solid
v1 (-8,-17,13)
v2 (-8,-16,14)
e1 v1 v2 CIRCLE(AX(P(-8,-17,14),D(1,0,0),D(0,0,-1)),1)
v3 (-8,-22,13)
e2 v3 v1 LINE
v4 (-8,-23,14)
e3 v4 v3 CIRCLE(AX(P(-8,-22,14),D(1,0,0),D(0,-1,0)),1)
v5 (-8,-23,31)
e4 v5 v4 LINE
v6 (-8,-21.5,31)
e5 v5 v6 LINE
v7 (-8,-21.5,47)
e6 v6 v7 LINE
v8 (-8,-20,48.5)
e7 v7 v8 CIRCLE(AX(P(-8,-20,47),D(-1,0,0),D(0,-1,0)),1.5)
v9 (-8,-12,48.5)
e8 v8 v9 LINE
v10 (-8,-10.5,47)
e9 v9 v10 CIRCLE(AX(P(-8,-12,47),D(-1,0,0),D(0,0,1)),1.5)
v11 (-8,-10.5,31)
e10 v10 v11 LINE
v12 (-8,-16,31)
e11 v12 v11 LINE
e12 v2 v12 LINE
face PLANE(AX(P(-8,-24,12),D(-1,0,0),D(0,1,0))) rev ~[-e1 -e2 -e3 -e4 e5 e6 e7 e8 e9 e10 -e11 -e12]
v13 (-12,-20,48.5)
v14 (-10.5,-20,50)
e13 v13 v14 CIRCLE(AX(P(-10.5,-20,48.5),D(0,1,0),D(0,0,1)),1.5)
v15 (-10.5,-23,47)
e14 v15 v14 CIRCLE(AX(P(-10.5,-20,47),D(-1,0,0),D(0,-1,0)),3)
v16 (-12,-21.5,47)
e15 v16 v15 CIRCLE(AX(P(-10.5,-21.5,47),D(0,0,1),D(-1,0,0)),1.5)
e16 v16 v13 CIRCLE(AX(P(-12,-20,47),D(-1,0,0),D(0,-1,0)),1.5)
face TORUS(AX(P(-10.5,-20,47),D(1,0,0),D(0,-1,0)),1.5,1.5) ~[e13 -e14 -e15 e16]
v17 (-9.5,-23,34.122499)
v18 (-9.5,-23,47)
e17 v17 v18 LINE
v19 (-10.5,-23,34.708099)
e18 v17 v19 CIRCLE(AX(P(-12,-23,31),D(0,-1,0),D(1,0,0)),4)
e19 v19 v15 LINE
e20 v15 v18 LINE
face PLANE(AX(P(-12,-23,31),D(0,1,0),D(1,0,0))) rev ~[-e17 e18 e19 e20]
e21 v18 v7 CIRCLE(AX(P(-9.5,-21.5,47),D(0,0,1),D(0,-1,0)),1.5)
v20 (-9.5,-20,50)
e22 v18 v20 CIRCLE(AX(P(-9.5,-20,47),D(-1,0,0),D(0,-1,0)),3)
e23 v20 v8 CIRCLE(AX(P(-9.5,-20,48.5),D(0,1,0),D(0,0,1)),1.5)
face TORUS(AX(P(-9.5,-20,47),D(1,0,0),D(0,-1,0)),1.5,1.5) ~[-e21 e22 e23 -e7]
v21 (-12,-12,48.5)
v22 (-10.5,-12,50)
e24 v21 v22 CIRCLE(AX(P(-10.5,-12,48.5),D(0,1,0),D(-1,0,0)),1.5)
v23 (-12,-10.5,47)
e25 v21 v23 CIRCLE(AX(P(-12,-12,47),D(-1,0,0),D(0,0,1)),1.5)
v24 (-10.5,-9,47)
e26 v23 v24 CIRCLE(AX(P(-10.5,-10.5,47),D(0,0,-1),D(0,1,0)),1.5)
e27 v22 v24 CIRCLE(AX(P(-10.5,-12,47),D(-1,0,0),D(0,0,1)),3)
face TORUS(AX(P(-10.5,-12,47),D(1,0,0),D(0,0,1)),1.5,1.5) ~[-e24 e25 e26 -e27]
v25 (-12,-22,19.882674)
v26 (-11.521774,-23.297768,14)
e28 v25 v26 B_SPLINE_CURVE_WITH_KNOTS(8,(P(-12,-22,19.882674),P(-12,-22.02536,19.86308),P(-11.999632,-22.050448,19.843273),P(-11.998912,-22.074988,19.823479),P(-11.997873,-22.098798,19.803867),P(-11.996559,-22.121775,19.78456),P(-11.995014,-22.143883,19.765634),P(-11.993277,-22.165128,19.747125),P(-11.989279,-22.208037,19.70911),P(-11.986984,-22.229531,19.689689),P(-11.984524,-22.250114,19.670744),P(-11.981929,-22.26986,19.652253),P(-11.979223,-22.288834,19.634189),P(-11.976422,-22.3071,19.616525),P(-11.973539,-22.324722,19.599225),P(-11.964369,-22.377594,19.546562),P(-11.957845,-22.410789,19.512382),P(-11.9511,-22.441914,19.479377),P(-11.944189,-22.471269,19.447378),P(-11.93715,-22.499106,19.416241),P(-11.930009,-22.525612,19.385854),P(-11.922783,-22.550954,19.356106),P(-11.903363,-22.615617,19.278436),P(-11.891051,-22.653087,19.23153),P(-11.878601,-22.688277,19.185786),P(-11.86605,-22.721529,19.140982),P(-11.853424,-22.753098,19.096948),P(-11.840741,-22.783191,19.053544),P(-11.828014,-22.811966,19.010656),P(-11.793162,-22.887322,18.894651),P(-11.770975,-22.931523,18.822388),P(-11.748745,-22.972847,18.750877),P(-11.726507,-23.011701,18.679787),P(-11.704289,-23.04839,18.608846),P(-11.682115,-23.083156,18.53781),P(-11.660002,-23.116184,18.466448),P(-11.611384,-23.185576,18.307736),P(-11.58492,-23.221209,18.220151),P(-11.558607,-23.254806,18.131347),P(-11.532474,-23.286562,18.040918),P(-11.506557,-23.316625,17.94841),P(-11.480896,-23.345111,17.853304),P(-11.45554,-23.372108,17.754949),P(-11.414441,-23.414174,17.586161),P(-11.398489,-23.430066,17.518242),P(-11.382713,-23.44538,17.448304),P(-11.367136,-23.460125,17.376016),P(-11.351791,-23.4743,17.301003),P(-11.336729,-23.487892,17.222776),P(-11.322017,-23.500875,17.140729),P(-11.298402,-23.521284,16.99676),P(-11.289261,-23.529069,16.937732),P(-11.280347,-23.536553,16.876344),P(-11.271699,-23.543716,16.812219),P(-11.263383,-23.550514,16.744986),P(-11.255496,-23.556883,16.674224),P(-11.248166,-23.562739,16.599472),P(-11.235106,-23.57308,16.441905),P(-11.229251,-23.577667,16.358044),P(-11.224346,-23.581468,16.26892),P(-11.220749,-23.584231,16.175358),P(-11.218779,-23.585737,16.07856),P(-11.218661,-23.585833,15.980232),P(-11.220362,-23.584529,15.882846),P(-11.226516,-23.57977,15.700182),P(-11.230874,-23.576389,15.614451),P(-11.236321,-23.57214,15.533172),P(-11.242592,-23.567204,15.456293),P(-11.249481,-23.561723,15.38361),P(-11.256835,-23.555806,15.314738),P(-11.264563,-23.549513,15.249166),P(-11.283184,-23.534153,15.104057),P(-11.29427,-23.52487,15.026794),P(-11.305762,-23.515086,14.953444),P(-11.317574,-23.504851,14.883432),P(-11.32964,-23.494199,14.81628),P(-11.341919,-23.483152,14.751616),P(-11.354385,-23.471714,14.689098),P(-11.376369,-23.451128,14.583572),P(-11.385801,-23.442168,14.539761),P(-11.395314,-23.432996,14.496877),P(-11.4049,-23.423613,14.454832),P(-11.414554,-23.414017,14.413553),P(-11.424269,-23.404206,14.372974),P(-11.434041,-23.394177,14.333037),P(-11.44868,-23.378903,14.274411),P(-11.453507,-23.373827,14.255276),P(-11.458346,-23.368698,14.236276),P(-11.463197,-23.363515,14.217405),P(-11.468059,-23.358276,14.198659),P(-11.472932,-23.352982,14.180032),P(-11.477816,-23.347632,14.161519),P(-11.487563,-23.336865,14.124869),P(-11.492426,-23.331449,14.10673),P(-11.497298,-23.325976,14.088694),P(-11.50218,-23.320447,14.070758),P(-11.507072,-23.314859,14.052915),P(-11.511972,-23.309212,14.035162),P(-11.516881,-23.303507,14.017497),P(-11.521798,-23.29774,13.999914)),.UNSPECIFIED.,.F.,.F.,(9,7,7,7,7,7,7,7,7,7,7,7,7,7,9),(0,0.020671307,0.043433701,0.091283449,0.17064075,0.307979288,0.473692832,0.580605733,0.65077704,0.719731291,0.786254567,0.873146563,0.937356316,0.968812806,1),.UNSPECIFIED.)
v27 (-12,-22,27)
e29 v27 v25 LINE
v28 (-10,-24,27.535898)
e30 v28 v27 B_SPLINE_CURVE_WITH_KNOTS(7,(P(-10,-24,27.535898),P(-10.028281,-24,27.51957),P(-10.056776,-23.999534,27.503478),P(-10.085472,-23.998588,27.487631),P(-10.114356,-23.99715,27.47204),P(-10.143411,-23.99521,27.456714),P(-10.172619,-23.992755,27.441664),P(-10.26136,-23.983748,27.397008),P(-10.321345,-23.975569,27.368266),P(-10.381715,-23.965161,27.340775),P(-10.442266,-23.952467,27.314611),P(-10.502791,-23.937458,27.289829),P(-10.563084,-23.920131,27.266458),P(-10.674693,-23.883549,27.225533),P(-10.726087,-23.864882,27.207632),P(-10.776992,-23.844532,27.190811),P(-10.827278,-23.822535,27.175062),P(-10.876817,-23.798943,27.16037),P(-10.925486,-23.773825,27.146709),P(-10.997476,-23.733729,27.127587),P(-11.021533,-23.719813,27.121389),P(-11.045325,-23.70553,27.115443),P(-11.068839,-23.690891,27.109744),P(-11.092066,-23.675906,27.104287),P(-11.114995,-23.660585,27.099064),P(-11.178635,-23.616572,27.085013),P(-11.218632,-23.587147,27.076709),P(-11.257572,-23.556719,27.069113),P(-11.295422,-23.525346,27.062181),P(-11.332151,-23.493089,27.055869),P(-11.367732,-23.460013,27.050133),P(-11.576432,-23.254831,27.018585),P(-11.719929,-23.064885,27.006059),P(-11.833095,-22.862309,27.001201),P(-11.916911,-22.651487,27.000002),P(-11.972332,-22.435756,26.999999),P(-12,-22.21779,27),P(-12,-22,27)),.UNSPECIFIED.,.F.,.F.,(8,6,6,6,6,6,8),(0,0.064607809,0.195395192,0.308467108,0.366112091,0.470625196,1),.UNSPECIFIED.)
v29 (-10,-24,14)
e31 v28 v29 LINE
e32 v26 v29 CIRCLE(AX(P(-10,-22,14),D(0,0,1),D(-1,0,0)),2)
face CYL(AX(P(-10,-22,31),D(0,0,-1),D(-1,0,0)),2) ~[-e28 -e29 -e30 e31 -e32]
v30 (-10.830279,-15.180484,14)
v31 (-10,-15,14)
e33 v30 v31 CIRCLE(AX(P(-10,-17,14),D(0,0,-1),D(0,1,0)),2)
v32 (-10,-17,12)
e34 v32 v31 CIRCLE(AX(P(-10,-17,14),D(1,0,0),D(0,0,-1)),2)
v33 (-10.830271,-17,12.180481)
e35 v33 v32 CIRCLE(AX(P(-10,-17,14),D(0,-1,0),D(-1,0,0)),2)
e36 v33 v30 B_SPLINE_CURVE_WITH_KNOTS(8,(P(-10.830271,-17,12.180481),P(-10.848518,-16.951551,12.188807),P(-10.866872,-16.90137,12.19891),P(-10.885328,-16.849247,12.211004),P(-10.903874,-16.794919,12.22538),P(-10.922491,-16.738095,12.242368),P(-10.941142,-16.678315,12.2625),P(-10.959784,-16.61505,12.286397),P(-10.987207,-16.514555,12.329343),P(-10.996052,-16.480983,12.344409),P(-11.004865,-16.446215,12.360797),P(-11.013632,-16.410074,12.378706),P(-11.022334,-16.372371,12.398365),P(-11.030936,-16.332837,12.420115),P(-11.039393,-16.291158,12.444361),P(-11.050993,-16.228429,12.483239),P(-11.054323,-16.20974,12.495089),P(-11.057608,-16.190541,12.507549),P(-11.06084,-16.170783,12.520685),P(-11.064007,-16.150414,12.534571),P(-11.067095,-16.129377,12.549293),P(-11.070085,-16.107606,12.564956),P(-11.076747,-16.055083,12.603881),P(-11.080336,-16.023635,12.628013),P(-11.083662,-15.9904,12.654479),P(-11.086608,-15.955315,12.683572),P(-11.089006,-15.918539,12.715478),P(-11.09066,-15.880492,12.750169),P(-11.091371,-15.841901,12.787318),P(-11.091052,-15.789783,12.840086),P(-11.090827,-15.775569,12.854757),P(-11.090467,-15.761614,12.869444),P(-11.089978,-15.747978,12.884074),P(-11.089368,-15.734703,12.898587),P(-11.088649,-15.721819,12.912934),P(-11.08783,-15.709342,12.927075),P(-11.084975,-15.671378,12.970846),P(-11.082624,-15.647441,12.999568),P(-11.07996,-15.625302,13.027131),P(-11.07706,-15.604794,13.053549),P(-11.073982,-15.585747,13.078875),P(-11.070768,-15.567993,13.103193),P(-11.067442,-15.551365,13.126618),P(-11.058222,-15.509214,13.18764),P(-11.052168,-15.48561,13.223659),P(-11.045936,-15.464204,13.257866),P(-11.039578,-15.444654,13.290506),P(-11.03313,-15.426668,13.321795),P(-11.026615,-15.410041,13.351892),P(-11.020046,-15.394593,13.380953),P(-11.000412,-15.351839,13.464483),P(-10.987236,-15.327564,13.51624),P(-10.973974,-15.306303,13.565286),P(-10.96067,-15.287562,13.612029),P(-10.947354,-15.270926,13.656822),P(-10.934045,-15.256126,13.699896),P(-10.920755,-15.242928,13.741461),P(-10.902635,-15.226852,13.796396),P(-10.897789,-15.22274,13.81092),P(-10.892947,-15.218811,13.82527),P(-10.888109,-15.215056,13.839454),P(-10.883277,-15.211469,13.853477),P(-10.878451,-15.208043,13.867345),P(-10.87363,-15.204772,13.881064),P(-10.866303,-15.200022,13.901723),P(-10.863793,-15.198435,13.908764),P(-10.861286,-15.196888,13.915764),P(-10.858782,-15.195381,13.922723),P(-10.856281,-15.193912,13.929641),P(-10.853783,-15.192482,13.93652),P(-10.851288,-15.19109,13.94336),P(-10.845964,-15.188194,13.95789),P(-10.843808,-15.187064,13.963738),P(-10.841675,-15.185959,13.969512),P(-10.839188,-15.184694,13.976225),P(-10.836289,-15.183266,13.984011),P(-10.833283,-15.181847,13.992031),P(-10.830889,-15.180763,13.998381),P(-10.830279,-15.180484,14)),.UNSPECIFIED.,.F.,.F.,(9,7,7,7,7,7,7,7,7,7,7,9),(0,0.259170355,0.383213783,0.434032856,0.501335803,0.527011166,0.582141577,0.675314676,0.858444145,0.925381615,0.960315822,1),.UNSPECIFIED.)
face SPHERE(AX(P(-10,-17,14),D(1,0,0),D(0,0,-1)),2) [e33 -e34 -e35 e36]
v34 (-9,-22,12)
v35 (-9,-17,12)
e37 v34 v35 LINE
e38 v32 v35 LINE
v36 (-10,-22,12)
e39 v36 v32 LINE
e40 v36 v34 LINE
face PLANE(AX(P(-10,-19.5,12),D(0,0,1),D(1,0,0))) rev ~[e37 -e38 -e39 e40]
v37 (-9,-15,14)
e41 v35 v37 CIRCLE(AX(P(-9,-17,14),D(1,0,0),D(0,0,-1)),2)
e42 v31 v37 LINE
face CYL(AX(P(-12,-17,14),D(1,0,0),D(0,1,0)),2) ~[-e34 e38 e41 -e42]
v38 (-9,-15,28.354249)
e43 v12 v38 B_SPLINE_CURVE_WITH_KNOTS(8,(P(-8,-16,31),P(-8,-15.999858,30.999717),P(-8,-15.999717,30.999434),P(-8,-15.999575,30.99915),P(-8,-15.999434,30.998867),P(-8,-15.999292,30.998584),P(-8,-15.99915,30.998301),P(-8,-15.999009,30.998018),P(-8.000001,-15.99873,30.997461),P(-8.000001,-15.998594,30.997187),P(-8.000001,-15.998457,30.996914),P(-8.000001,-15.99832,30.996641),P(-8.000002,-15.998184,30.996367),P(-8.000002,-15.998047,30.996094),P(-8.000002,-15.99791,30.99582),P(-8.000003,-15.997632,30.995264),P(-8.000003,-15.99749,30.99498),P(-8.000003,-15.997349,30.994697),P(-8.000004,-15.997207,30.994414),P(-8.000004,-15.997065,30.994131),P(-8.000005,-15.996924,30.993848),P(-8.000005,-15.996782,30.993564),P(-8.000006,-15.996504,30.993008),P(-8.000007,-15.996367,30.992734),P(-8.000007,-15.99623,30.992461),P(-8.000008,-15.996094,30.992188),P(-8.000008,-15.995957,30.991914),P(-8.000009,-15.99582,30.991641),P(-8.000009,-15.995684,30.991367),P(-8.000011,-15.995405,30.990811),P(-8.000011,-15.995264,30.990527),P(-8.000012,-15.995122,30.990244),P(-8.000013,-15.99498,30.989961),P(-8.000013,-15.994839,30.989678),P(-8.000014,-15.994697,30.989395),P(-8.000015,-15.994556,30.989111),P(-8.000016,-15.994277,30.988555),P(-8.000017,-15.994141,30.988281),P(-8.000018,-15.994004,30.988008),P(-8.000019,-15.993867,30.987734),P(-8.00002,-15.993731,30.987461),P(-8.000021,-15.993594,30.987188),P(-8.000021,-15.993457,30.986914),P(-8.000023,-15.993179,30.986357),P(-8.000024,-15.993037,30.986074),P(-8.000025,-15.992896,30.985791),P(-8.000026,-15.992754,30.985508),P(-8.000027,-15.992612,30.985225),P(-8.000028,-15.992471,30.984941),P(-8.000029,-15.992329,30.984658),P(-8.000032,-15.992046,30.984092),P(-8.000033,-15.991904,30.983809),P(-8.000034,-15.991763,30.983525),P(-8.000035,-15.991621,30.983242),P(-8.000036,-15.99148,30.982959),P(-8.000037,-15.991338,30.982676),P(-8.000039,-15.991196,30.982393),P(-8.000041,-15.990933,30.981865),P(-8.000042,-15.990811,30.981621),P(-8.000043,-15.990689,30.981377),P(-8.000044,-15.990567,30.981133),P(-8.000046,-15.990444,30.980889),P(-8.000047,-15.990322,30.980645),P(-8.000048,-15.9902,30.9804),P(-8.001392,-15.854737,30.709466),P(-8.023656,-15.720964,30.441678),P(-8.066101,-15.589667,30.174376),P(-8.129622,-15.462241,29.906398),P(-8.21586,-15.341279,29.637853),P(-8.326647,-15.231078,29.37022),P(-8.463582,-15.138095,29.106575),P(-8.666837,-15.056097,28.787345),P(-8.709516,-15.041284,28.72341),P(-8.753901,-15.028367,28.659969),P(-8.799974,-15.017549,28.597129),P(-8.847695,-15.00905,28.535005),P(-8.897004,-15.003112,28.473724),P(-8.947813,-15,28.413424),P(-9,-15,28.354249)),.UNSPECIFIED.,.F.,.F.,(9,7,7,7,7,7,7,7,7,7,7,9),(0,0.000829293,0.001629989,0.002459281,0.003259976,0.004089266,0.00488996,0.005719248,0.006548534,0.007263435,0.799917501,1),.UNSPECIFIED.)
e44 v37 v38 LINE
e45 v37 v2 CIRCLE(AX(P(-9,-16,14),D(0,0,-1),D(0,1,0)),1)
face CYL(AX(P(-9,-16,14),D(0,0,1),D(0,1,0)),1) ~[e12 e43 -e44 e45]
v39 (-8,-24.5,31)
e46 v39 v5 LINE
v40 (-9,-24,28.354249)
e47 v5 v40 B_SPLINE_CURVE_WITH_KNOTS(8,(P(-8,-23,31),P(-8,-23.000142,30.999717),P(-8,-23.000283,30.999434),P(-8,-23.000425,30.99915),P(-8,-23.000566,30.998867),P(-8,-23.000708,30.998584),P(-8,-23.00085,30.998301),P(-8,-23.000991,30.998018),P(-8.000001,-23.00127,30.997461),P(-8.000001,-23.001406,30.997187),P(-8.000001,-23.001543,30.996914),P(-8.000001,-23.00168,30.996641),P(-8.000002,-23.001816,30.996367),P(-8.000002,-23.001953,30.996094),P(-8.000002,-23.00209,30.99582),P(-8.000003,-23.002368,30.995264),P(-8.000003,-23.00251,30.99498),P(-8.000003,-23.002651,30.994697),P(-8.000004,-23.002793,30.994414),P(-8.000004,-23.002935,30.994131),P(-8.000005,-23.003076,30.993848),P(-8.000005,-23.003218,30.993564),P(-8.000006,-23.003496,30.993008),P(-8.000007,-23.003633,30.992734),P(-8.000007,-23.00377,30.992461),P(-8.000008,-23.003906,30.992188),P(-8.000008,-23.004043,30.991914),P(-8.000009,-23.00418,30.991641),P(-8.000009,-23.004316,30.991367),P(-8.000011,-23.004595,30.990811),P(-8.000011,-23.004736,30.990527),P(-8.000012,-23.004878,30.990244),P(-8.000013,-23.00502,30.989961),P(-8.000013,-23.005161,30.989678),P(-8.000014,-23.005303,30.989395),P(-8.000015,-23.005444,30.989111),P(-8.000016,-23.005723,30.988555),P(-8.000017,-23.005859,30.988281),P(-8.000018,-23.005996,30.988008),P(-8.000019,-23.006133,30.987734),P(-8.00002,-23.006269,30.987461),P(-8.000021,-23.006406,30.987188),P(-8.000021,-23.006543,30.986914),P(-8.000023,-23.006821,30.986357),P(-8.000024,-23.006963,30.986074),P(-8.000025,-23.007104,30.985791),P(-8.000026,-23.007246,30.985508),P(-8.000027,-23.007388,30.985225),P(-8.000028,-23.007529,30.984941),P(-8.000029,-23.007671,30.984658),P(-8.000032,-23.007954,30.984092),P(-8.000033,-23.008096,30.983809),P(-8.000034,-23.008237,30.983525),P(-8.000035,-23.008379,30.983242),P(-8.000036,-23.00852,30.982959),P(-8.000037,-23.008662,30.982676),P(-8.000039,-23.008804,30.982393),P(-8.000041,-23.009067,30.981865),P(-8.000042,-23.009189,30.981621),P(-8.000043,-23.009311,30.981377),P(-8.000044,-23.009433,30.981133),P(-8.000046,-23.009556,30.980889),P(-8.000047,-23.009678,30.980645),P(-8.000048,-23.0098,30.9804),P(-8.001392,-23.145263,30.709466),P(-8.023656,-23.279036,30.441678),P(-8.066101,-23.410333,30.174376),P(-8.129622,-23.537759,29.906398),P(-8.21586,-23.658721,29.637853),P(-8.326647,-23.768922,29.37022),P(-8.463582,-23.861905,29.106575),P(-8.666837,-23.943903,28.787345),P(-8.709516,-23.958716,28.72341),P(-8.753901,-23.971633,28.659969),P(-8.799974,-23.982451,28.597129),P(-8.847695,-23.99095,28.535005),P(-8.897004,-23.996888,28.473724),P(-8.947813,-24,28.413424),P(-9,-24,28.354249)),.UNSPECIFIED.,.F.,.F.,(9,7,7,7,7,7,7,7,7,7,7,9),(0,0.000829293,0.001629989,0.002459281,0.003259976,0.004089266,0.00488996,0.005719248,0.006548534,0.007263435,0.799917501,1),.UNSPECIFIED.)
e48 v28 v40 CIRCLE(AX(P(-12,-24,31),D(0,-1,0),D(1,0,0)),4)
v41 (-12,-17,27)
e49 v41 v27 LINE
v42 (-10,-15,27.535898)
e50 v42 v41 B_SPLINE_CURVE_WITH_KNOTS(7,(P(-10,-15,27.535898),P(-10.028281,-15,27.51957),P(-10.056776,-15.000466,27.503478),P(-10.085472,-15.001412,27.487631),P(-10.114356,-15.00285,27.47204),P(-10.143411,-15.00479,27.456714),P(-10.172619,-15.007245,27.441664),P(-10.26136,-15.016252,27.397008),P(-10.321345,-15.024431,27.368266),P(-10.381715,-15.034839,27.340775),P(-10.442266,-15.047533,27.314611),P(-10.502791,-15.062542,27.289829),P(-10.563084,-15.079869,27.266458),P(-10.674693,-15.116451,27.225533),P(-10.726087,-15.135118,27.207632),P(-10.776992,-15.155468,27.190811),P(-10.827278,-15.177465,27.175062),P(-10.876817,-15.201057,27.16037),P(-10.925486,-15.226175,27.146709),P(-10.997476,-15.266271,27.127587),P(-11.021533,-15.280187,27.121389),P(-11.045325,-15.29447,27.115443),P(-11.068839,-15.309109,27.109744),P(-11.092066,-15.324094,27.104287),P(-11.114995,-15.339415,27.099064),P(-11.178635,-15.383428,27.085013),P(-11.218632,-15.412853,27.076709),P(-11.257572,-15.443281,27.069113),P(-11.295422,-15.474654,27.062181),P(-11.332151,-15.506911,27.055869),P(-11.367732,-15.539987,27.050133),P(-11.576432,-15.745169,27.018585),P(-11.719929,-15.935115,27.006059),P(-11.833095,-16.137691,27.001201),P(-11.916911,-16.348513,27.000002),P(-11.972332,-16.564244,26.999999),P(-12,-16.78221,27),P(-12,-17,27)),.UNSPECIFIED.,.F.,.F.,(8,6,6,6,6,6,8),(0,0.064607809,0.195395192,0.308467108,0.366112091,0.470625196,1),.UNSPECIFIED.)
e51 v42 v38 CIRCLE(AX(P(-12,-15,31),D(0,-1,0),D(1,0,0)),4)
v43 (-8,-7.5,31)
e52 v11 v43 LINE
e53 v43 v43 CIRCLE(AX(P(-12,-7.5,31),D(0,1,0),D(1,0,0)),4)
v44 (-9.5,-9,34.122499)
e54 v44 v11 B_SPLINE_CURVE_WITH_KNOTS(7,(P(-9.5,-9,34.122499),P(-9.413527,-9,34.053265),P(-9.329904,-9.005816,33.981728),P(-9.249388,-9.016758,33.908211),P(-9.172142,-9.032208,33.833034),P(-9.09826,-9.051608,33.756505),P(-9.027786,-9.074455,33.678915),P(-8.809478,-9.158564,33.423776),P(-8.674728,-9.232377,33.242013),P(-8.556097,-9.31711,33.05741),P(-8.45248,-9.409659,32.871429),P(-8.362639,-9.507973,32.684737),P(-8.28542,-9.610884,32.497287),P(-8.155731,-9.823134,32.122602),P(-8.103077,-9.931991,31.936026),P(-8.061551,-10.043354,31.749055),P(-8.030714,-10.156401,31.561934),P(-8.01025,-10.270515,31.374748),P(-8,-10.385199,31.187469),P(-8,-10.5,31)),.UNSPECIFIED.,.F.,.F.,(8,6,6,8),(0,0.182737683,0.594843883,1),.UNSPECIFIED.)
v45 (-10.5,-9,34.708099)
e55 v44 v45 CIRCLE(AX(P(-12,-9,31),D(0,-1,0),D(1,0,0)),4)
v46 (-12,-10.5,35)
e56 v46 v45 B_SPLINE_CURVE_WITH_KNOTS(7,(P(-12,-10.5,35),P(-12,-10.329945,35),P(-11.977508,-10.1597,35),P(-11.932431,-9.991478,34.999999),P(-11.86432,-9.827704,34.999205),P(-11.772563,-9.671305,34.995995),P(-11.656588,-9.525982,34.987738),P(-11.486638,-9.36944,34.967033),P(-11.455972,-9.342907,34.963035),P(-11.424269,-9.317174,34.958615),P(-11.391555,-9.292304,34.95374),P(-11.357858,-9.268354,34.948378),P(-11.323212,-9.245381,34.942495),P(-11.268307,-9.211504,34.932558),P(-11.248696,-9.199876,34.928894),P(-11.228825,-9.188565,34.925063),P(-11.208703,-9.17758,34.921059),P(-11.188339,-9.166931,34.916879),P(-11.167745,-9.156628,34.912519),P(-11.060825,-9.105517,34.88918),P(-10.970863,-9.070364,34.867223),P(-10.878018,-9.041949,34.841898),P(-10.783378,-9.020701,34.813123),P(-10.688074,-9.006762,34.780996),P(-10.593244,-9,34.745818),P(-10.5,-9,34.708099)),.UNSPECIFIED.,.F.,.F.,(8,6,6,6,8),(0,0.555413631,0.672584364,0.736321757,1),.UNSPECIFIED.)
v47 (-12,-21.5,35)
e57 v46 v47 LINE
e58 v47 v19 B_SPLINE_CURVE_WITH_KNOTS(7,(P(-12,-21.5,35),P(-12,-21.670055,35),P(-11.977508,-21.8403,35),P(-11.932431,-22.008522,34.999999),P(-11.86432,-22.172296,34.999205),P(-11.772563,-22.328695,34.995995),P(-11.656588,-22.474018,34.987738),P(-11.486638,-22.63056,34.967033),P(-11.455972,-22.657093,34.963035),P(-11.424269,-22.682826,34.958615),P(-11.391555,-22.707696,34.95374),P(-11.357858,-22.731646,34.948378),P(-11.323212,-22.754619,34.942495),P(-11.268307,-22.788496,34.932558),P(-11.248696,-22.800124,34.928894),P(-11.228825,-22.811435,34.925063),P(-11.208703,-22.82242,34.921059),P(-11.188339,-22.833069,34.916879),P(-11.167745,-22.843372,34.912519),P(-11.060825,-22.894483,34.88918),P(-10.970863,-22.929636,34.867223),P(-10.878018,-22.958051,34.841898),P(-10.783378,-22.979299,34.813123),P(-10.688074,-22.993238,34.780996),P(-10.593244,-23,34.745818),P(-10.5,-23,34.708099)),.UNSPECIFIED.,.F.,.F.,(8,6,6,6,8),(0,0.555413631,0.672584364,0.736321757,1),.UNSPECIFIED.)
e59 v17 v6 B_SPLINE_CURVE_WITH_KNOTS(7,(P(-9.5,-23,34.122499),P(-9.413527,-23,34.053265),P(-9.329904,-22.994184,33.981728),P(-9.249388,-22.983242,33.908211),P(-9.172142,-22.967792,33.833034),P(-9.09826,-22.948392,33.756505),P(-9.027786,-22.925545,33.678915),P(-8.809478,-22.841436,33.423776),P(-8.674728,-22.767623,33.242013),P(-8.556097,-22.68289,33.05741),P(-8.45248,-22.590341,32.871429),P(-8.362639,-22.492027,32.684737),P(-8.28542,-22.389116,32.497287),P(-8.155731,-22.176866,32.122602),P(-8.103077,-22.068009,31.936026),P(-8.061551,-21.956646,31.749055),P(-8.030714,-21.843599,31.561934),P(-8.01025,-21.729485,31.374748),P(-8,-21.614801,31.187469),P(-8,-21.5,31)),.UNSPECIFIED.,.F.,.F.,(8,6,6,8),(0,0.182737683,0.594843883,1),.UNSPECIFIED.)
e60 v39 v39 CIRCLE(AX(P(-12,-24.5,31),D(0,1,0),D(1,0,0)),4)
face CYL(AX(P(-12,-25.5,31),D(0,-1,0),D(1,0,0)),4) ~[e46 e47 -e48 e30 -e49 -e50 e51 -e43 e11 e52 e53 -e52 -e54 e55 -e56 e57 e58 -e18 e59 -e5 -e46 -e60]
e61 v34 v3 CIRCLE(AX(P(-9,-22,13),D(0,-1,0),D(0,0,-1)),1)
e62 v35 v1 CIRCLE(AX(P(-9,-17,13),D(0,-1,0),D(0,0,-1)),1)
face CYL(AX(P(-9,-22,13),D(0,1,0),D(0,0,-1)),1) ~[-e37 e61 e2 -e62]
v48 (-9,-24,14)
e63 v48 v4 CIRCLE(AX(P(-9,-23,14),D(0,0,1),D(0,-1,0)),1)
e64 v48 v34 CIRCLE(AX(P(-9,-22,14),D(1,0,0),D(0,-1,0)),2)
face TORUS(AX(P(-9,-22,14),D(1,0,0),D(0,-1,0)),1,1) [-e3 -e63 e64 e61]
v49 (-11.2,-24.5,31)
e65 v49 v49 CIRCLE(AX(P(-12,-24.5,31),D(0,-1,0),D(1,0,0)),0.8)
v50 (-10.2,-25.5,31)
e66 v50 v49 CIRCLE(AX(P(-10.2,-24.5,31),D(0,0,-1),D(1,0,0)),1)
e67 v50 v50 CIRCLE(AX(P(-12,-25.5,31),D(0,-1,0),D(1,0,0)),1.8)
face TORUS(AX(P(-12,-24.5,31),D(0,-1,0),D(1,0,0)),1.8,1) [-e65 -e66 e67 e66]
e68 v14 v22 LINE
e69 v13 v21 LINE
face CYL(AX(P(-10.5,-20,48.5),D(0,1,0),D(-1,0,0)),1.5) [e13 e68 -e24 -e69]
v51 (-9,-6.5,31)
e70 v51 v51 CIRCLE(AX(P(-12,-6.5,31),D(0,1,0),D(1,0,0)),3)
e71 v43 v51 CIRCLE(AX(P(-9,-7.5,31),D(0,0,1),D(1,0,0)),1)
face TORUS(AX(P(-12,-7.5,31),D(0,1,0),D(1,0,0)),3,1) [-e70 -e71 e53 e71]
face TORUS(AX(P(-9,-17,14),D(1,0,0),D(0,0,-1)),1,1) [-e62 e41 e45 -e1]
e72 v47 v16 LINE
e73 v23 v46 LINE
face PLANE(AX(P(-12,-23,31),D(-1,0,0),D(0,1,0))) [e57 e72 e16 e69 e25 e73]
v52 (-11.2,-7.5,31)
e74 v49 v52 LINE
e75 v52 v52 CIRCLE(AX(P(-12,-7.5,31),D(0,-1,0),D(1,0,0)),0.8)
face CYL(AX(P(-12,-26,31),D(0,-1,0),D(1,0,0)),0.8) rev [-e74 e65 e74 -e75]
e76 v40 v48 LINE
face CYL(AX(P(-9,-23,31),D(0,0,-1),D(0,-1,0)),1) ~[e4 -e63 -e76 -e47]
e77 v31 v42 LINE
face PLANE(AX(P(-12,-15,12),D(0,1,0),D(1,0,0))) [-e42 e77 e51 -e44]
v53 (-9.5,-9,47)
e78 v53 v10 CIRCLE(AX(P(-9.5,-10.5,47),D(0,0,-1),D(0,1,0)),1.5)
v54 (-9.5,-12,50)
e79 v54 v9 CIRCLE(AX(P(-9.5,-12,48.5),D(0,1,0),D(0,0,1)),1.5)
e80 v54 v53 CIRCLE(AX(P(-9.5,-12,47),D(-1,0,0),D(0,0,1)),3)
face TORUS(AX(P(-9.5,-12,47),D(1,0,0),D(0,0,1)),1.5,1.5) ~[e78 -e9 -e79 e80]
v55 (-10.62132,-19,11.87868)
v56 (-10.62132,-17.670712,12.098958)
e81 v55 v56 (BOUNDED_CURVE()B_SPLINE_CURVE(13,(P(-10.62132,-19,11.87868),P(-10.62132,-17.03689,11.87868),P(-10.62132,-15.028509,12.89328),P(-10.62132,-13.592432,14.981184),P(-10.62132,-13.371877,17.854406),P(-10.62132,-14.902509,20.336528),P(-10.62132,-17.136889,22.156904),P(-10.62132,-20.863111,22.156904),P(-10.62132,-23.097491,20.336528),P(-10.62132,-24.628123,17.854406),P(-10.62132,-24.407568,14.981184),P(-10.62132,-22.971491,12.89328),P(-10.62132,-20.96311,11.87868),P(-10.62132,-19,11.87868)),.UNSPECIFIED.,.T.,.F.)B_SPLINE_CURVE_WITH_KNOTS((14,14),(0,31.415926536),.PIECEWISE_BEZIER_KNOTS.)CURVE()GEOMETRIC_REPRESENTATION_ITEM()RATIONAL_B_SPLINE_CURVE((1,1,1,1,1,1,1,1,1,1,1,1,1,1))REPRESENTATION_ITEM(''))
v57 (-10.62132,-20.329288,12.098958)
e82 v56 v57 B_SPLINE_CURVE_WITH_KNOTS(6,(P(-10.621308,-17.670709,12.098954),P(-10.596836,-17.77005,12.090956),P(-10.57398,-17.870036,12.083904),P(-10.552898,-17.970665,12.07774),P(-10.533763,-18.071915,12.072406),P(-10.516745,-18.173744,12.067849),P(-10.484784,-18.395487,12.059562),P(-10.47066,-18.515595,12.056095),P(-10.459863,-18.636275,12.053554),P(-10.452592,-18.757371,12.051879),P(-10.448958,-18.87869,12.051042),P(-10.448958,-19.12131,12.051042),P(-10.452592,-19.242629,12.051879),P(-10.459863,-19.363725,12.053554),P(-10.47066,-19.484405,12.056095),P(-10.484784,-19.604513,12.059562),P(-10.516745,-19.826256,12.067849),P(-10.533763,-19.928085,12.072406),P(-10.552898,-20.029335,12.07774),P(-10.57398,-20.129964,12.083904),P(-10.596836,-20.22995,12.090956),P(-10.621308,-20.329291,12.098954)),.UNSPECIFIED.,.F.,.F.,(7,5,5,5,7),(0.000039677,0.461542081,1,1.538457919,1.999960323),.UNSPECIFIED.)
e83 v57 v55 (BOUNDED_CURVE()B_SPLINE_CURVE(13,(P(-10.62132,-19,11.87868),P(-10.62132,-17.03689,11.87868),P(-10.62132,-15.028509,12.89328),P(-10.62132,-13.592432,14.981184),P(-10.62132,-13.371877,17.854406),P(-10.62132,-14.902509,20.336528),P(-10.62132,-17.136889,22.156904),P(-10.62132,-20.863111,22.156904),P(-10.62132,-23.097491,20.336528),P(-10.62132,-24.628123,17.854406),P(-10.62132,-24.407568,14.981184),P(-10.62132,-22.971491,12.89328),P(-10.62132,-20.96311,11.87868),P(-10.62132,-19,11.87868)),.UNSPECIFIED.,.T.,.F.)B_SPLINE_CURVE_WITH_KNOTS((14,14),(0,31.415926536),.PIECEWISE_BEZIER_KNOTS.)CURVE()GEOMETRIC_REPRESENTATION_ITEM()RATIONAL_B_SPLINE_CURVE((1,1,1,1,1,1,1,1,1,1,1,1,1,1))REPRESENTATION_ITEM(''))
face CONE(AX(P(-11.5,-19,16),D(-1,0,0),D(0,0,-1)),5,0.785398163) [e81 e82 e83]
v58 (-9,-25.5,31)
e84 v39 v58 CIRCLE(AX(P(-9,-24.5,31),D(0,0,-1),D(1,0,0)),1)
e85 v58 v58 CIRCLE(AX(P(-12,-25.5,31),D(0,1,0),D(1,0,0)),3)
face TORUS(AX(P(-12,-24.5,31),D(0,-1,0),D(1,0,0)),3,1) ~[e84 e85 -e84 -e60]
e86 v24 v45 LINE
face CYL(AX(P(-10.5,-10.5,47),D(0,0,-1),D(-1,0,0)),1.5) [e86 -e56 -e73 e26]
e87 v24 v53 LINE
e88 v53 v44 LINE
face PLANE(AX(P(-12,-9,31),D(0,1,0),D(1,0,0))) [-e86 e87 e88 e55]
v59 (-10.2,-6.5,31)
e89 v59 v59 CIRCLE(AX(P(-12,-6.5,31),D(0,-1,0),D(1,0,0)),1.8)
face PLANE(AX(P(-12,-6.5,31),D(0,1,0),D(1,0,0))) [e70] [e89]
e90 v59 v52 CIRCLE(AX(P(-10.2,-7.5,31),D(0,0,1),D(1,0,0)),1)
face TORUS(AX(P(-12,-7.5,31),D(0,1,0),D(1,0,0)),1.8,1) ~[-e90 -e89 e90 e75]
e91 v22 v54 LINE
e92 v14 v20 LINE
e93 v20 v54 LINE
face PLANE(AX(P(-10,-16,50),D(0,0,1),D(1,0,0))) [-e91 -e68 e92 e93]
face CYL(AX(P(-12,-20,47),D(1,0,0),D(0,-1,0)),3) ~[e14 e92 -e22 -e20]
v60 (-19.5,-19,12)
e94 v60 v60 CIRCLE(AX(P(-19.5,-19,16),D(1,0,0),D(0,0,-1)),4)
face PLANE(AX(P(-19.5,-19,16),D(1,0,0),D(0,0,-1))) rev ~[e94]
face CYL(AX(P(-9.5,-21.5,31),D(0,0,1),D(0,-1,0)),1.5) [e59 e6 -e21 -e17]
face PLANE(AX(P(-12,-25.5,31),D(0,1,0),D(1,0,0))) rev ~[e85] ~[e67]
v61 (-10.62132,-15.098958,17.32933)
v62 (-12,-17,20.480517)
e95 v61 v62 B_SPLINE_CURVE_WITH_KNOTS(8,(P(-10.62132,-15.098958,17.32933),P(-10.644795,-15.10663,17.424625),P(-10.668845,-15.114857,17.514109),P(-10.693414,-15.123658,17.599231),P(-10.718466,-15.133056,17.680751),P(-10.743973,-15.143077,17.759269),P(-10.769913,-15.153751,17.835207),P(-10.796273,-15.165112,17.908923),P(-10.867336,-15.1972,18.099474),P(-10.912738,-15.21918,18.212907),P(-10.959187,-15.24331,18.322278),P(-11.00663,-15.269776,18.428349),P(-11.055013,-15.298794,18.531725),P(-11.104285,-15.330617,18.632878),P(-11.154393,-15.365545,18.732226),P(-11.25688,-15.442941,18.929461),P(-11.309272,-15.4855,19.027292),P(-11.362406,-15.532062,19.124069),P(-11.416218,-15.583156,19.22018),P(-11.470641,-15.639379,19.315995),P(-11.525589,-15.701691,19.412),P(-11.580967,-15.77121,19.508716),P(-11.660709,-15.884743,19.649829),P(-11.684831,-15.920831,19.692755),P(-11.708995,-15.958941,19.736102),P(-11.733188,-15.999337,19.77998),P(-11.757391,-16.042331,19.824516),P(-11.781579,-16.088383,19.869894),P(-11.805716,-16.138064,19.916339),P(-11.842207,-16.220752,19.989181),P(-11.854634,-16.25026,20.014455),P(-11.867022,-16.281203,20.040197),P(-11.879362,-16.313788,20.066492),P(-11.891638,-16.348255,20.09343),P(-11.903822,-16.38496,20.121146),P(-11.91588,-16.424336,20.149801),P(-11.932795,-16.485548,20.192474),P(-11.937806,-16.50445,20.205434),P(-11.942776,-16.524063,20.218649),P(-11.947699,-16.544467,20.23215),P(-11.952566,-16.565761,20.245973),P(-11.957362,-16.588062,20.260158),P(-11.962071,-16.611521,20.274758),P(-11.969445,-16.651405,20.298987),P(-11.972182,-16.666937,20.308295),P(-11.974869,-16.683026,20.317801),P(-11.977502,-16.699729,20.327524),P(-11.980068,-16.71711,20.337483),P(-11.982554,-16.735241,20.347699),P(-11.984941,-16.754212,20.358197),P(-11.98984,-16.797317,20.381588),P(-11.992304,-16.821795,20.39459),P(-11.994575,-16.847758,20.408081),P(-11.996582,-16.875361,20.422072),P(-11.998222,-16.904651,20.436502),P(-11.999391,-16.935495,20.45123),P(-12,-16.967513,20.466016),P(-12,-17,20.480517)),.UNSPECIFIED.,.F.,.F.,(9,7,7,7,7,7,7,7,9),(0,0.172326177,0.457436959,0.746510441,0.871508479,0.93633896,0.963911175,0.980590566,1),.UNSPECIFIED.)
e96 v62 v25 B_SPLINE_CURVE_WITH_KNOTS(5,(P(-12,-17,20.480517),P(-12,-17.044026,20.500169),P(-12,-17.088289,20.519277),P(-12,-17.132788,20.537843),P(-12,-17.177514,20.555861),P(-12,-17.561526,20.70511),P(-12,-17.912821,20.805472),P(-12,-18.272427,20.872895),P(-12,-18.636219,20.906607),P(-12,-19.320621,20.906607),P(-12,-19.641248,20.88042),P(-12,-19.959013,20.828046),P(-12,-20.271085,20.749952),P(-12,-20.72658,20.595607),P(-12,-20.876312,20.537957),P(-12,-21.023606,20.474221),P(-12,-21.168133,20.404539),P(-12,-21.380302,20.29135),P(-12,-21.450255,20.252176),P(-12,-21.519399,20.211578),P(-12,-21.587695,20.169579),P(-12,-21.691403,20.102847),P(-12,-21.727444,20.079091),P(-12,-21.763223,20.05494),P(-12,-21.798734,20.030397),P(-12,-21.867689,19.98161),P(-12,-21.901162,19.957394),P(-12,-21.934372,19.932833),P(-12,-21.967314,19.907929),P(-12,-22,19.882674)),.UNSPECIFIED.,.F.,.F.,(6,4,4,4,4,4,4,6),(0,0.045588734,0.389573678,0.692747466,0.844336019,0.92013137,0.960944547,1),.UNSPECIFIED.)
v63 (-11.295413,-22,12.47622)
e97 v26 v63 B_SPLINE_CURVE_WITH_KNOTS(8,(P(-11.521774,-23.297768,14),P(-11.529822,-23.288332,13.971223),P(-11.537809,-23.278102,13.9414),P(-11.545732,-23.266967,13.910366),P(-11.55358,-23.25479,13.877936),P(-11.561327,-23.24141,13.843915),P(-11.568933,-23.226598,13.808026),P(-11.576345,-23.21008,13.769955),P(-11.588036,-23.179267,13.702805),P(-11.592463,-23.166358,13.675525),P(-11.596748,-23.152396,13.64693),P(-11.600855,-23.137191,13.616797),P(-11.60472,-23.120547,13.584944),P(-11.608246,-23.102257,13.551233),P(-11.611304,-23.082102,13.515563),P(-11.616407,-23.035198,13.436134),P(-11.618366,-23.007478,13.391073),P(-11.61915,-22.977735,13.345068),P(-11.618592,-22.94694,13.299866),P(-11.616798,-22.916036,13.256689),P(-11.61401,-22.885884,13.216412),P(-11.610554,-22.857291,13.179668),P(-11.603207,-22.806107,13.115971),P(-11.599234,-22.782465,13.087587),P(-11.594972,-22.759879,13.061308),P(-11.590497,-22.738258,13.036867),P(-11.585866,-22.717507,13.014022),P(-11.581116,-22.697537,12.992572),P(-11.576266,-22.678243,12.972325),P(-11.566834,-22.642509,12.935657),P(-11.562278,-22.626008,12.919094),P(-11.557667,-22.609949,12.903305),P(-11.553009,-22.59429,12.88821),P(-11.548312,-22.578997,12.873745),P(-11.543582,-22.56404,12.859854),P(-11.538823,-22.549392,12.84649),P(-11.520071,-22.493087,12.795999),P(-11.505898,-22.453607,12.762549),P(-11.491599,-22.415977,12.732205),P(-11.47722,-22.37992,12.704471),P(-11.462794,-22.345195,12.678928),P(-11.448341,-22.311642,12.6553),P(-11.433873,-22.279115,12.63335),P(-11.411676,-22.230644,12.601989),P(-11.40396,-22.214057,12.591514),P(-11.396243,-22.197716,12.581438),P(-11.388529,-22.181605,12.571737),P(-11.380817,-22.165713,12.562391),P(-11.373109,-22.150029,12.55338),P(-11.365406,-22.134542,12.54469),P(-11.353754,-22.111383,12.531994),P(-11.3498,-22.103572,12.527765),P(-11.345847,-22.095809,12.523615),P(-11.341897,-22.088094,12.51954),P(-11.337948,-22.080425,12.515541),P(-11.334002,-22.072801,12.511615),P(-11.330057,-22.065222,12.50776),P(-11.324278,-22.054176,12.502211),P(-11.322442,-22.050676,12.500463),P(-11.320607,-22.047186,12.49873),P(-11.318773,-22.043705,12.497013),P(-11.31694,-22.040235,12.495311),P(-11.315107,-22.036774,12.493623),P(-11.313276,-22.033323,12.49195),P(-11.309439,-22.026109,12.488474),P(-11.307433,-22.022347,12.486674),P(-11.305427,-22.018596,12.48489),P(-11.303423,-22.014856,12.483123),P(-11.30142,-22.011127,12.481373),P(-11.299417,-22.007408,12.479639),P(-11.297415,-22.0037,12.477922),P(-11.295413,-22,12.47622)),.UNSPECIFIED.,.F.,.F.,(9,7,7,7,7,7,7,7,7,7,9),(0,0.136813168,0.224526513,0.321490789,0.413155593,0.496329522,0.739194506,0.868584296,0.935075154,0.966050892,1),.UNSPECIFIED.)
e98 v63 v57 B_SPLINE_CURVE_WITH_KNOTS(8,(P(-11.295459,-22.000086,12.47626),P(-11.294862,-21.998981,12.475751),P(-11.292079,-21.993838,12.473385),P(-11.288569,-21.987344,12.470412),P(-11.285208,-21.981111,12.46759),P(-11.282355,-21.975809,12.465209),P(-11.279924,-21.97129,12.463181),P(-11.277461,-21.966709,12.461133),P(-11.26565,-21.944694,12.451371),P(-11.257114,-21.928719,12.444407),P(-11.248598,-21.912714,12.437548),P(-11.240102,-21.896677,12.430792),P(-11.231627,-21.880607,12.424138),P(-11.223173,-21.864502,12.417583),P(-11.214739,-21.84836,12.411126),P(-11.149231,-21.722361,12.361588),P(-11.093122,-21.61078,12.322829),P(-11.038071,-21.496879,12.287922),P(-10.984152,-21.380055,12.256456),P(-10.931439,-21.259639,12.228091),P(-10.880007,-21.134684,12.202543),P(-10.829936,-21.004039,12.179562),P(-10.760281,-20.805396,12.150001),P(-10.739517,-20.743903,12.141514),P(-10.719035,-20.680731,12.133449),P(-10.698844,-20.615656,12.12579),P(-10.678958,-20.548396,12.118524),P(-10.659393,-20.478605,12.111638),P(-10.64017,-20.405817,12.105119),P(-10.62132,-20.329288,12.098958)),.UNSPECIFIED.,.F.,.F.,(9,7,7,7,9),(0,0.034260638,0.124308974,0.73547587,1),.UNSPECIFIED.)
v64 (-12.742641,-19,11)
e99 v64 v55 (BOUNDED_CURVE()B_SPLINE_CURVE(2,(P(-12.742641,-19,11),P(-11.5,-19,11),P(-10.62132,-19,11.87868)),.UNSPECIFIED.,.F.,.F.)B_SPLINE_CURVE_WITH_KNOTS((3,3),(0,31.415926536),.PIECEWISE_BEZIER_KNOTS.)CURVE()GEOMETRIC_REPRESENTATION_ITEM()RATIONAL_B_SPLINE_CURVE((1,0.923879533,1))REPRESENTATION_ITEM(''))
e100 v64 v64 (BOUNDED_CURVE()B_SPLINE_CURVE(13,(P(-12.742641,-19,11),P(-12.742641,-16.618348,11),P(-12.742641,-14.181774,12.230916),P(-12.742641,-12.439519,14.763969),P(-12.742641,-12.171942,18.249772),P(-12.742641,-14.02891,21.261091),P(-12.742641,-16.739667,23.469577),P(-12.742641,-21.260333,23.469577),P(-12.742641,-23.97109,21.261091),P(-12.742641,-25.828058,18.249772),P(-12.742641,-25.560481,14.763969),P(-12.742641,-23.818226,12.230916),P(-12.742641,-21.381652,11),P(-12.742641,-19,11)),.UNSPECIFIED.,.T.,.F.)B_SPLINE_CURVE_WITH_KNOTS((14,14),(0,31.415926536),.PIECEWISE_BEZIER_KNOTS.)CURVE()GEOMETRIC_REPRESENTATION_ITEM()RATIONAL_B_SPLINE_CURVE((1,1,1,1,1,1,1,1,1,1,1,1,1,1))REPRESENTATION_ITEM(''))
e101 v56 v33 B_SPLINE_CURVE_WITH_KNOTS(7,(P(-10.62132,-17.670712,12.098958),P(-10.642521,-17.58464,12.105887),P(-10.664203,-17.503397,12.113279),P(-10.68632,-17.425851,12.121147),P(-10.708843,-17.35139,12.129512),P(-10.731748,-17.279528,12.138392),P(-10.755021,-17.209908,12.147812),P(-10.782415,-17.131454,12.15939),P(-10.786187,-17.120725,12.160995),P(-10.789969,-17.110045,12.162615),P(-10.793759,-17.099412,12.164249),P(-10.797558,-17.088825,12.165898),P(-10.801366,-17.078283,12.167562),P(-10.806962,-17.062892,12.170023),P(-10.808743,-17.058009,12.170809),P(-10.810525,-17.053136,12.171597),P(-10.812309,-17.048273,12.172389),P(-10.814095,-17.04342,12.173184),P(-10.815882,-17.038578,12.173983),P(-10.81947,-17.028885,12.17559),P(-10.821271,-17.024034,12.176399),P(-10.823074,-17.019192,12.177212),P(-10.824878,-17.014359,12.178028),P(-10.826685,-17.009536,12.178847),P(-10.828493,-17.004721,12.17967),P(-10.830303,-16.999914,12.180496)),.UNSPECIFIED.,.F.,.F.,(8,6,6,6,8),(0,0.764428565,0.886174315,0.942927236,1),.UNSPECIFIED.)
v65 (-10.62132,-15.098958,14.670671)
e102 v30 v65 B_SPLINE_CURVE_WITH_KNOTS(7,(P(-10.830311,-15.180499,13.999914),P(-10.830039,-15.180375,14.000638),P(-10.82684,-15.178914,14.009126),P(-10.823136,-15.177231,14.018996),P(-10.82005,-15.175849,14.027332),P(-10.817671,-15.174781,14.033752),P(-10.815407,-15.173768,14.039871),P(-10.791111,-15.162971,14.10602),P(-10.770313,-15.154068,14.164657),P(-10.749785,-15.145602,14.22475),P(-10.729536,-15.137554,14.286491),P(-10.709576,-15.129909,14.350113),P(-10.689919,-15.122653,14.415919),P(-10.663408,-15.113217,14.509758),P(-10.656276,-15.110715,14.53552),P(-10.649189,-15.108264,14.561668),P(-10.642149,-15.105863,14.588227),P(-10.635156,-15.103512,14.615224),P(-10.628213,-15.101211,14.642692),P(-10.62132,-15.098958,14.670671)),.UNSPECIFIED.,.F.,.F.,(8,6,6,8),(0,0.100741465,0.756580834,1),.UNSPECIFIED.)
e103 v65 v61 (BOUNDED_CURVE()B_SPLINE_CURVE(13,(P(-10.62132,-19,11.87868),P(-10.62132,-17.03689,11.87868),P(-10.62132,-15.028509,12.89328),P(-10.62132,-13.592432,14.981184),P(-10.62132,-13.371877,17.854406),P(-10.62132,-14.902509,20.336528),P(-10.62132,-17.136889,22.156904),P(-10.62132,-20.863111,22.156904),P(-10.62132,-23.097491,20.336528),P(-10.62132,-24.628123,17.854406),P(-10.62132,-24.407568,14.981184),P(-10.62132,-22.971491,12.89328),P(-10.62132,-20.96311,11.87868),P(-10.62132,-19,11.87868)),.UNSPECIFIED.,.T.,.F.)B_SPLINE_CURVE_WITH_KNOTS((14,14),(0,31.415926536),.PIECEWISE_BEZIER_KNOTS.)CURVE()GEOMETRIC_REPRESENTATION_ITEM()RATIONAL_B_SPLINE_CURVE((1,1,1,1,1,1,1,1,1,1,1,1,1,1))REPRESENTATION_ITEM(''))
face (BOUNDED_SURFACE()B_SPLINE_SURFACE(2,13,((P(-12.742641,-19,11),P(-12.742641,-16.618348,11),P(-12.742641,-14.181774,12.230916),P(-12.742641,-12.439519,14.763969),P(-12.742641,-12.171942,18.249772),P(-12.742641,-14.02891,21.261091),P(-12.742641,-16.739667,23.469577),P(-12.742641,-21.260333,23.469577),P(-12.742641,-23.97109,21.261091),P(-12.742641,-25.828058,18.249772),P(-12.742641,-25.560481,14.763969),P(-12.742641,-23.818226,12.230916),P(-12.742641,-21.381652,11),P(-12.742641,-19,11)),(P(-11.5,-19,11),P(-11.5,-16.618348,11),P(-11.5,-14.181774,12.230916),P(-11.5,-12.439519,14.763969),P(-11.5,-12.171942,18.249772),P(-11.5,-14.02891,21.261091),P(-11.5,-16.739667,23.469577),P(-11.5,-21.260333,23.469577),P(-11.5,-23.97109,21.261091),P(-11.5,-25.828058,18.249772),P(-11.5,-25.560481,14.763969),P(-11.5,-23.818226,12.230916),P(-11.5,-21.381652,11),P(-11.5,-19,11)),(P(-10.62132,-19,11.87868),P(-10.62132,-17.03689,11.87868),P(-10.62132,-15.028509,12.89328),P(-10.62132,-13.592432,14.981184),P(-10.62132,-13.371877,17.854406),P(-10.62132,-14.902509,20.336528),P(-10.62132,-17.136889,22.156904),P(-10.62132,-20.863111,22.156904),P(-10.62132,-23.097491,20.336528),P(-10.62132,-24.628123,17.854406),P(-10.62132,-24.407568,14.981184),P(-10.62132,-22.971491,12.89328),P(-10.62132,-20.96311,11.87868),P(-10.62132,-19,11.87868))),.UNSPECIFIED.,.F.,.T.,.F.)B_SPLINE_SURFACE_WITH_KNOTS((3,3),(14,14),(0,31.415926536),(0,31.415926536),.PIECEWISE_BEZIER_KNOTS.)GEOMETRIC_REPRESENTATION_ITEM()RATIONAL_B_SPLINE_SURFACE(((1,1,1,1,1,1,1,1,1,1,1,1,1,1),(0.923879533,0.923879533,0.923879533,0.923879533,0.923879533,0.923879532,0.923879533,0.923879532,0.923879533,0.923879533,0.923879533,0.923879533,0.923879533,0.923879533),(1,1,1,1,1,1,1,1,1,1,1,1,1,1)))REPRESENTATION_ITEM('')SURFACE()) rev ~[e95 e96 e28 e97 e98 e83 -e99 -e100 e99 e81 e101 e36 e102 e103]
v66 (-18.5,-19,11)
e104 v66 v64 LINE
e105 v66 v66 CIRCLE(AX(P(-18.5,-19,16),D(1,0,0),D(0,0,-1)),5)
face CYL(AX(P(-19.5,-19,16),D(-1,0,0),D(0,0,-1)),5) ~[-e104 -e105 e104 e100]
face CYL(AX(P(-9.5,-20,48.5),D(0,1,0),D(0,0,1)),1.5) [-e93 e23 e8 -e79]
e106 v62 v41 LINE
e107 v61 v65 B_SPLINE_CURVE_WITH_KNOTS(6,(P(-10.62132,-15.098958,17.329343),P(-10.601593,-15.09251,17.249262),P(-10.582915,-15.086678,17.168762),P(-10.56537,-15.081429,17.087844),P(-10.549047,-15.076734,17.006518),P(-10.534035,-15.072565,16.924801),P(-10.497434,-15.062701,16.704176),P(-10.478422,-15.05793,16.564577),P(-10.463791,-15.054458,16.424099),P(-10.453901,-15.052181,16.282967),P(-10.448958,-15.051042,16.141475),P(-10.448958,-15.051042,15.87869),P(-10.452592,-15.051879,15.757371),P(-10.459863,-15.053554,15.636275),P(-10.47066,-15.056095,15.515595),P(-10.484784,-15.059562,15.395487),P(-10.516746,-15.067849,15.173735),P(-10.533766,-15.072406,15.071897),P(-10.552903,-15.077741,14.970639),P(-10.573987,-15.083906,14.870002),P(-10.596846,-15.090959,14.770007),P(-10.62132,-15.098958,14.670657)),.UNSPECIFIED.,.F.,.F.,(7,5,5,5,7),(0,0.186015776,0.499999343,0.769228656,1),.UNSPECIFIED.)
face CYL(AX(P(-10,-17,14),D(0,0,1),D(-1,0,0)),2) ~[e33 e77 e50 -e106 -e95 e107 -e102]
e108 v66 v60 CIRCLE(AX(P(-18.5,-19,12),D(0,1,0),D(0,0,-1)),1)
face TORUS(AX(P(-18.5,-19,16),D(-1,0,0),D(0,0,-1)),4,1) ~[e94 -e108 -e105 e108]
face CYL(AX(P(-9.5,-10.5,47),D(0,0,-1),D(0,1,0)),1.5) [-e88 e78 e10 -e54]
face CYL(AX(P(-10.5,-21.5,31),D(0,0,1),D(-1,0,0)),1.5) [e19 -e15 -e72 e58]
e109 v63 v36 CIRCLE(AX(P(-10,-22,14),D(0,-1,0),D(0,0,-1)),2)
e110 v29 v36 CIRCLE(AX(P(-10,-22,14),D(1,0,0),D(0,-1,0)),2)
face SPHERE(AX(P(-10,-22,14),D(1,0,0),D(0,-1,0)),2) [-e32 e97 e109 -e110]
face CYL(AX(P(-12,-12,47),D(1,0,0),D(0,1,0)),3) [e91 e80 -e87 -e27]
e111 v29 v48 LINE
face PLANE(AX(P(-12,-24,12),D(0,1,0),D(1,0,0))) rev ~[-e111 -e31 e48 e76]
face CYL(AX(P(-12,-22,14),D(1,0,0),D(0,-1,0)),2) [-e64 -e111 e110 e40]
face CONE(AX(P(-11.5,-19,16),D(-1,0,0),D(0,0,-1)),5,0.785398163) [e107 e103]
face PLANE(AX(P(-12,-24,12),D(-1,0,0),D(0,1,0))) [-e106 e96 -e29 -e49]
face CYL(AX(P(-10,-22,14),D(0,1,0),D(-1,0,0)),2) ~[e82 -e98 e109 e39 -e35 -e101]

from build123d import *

# Parameters (mm, degrees)
CYLINDER015_R     = 5
CYLINDER015_DEPTH = 10
FILLET022_R       = 1
CHAMFER_SIZE      = 2
FILLET023_R       = 3
CYLINDER010_R     = 0.8
CYLINDER010_DEPTH = 20
CYLINDER009_R     = 4
CYLINDER009_DEPTH = 19
BOX003_W          = 4
BOX003_H          = 9
BOX003_DEPTH      = 19
FILLET_R          = 2
FILLET001_R       = 2
FILLET002_R       = 1
BOX004_W          = 4
BOX004_H          = 14
BOX004_DEPTH      = 19
FILLET003_R       = 3
FILLET004_R       = 1.5
FILLET005_R       = 1.5
FILLET006_R       = 1


with BuildPart() as fillet023:
    # Cylinder015 → Cylinder015 (new body)
    with BuildSketch(Plane(origin=(-19.5, -19, 16), x_dir=(0, 0, -1), z_dir=(1, 0, 0))):
        Circle(CYLINDER015_R)
    extrude(amount=CYLINDER015_DEPTH)

    # Fillet022
    fillet022_edges = [fillet023.edges().sort_by_distance(p)[0] for p in [
        (-19.5, -19, 21),
    ]]
    fillet(fillet022_edges, radius=FILLET022_R)

    # Chamfer
    chamfer_edges = [fillet023.edges().sort_by_distance(p)[0] for p in [
        (-9.5, -19, 21),
    ]]
    chamfer(chamfer_edges, length=CHAMFER_SIZE)

    # Fillet023
    fillet023_edges = [fillet023.edges().sort_by_distance(p)[0] for p in [
        (-11.5, -19, 21),
    ]]
    fillet(fillet023_edges, radius=FILLET023_R)


with BuildPart() as cylinder010:
    # Cylinder010 → Cylinder010 (new body)
    with BuildSketch(Plane(origin=(-12, -26, 31), x_dir=(1, 0, 0), z_dir=(0, 1, 0))):
        Circle(CYLINDER010_R)
    extrude(amount=CYLINDER010_DEPTH)


with BuildPart() as cylinder009:
    # Cylinder009 → Cylinder009 (new body)
    with BuildSketch(Plane(origin=(-12, -25.5, 31), x_dir=(1, 0, 0), z_dir=(0, 1, 0))):
        Circle(CYLINDER009_R)
    extrude(amount=CYLINDER009_DEPTH)


with BuildPart() as fillet002:
    # Box003 → Box003 (new body)
    with BuildSketch(Plane(origin=(-12, -24, 12), x_dir=(1, 0, 0), z_dir=(0, 0, 1))):
        with Locations((2, 4.5)):
            Rectangle(BOX003_W, BOX003_H)
    extrude(amount=BOX003_DEPTH)

    # Fillet
    fillet_edges = [fillet002.edges().sort_by_distance(p)[0] for p in [
        (-10, -24, 12),
        (-10, -15, 12),
    ]]
    fillet(fillet_edges, radius=FILLET_R)

    # Fillet001
    fillet001_edges = [fillet002.edges().sort_by_distance(p)[0] for p in [
        (-12, -15, 22.5),
    ]]
    fillet(fillet001_edges, radius=FILLET001_R)

    # Fillet002
    fillet002_edges = [fillet002.edges().sort_by_distance(p)[0] for p in [
        (-8, -15, 22.5),
    ]]
    fillet(fillet002_edges, radius=FILLET002_R)


with BuildPart() as pushbutton:
    # Box004 → Box004 (new body)
    with BuildSketch(Plane(origin=(-12, -23, 31), x_dir=(1, 0, 0), z_dir=(0, 0, 1))):
        with Locations((2, 7)):
            Rectangle(BOX004_W, BOX004_H)
    extrude(amount=BOX004_DEPTH)

    # Fillet003
    fillet003_edges = [pushbutton.edges().sort_by_distance(p)[0] for p in [
        (-10, -23, 50),
        (-10, -9, 50),
    ]]
    fillet(fillet003_edges, radius=FILLET003_R)

    # Fillet004
    fillet004_edges = [pushbutton.edges().sort_by_distance(p)[0] for p in [
        (-12, -23, 39),
    ]]
    fillet(fillet004_edges, radius=FILLET004_R)

    # Fillet005
    fillet005_edges = [pushbutton.edges().sort_by_distance(p)[0] for p in [
        (-8, -23, 39),
    ]]
    fillet(fillet005_edges, radius=FILLET005_R)

    # Fusion002: union Cylinder009, Fillet002
    add(cylinder009.part)
    add(fillet002.part)

    # Cut: cut Cylinder010
    add(cylinder010.part, mode=Mode.SUBTRACT)

    # Fillet006
    fillet006_edges = [pushbutton.edges().sort_by_distance(p)[0] for p in [
        (-16, -25.5, 31),
        (-16, -6.5, 31),
        (-12.8, -25.5, 31),
        (-12.8, -6.5, 31),
    ]]
    fillet(fillet006_edges, radius=FILLET006_R)

    # Fusion007: union Fillet023
    add(fillet023.part)


solid = pushbutton.part
